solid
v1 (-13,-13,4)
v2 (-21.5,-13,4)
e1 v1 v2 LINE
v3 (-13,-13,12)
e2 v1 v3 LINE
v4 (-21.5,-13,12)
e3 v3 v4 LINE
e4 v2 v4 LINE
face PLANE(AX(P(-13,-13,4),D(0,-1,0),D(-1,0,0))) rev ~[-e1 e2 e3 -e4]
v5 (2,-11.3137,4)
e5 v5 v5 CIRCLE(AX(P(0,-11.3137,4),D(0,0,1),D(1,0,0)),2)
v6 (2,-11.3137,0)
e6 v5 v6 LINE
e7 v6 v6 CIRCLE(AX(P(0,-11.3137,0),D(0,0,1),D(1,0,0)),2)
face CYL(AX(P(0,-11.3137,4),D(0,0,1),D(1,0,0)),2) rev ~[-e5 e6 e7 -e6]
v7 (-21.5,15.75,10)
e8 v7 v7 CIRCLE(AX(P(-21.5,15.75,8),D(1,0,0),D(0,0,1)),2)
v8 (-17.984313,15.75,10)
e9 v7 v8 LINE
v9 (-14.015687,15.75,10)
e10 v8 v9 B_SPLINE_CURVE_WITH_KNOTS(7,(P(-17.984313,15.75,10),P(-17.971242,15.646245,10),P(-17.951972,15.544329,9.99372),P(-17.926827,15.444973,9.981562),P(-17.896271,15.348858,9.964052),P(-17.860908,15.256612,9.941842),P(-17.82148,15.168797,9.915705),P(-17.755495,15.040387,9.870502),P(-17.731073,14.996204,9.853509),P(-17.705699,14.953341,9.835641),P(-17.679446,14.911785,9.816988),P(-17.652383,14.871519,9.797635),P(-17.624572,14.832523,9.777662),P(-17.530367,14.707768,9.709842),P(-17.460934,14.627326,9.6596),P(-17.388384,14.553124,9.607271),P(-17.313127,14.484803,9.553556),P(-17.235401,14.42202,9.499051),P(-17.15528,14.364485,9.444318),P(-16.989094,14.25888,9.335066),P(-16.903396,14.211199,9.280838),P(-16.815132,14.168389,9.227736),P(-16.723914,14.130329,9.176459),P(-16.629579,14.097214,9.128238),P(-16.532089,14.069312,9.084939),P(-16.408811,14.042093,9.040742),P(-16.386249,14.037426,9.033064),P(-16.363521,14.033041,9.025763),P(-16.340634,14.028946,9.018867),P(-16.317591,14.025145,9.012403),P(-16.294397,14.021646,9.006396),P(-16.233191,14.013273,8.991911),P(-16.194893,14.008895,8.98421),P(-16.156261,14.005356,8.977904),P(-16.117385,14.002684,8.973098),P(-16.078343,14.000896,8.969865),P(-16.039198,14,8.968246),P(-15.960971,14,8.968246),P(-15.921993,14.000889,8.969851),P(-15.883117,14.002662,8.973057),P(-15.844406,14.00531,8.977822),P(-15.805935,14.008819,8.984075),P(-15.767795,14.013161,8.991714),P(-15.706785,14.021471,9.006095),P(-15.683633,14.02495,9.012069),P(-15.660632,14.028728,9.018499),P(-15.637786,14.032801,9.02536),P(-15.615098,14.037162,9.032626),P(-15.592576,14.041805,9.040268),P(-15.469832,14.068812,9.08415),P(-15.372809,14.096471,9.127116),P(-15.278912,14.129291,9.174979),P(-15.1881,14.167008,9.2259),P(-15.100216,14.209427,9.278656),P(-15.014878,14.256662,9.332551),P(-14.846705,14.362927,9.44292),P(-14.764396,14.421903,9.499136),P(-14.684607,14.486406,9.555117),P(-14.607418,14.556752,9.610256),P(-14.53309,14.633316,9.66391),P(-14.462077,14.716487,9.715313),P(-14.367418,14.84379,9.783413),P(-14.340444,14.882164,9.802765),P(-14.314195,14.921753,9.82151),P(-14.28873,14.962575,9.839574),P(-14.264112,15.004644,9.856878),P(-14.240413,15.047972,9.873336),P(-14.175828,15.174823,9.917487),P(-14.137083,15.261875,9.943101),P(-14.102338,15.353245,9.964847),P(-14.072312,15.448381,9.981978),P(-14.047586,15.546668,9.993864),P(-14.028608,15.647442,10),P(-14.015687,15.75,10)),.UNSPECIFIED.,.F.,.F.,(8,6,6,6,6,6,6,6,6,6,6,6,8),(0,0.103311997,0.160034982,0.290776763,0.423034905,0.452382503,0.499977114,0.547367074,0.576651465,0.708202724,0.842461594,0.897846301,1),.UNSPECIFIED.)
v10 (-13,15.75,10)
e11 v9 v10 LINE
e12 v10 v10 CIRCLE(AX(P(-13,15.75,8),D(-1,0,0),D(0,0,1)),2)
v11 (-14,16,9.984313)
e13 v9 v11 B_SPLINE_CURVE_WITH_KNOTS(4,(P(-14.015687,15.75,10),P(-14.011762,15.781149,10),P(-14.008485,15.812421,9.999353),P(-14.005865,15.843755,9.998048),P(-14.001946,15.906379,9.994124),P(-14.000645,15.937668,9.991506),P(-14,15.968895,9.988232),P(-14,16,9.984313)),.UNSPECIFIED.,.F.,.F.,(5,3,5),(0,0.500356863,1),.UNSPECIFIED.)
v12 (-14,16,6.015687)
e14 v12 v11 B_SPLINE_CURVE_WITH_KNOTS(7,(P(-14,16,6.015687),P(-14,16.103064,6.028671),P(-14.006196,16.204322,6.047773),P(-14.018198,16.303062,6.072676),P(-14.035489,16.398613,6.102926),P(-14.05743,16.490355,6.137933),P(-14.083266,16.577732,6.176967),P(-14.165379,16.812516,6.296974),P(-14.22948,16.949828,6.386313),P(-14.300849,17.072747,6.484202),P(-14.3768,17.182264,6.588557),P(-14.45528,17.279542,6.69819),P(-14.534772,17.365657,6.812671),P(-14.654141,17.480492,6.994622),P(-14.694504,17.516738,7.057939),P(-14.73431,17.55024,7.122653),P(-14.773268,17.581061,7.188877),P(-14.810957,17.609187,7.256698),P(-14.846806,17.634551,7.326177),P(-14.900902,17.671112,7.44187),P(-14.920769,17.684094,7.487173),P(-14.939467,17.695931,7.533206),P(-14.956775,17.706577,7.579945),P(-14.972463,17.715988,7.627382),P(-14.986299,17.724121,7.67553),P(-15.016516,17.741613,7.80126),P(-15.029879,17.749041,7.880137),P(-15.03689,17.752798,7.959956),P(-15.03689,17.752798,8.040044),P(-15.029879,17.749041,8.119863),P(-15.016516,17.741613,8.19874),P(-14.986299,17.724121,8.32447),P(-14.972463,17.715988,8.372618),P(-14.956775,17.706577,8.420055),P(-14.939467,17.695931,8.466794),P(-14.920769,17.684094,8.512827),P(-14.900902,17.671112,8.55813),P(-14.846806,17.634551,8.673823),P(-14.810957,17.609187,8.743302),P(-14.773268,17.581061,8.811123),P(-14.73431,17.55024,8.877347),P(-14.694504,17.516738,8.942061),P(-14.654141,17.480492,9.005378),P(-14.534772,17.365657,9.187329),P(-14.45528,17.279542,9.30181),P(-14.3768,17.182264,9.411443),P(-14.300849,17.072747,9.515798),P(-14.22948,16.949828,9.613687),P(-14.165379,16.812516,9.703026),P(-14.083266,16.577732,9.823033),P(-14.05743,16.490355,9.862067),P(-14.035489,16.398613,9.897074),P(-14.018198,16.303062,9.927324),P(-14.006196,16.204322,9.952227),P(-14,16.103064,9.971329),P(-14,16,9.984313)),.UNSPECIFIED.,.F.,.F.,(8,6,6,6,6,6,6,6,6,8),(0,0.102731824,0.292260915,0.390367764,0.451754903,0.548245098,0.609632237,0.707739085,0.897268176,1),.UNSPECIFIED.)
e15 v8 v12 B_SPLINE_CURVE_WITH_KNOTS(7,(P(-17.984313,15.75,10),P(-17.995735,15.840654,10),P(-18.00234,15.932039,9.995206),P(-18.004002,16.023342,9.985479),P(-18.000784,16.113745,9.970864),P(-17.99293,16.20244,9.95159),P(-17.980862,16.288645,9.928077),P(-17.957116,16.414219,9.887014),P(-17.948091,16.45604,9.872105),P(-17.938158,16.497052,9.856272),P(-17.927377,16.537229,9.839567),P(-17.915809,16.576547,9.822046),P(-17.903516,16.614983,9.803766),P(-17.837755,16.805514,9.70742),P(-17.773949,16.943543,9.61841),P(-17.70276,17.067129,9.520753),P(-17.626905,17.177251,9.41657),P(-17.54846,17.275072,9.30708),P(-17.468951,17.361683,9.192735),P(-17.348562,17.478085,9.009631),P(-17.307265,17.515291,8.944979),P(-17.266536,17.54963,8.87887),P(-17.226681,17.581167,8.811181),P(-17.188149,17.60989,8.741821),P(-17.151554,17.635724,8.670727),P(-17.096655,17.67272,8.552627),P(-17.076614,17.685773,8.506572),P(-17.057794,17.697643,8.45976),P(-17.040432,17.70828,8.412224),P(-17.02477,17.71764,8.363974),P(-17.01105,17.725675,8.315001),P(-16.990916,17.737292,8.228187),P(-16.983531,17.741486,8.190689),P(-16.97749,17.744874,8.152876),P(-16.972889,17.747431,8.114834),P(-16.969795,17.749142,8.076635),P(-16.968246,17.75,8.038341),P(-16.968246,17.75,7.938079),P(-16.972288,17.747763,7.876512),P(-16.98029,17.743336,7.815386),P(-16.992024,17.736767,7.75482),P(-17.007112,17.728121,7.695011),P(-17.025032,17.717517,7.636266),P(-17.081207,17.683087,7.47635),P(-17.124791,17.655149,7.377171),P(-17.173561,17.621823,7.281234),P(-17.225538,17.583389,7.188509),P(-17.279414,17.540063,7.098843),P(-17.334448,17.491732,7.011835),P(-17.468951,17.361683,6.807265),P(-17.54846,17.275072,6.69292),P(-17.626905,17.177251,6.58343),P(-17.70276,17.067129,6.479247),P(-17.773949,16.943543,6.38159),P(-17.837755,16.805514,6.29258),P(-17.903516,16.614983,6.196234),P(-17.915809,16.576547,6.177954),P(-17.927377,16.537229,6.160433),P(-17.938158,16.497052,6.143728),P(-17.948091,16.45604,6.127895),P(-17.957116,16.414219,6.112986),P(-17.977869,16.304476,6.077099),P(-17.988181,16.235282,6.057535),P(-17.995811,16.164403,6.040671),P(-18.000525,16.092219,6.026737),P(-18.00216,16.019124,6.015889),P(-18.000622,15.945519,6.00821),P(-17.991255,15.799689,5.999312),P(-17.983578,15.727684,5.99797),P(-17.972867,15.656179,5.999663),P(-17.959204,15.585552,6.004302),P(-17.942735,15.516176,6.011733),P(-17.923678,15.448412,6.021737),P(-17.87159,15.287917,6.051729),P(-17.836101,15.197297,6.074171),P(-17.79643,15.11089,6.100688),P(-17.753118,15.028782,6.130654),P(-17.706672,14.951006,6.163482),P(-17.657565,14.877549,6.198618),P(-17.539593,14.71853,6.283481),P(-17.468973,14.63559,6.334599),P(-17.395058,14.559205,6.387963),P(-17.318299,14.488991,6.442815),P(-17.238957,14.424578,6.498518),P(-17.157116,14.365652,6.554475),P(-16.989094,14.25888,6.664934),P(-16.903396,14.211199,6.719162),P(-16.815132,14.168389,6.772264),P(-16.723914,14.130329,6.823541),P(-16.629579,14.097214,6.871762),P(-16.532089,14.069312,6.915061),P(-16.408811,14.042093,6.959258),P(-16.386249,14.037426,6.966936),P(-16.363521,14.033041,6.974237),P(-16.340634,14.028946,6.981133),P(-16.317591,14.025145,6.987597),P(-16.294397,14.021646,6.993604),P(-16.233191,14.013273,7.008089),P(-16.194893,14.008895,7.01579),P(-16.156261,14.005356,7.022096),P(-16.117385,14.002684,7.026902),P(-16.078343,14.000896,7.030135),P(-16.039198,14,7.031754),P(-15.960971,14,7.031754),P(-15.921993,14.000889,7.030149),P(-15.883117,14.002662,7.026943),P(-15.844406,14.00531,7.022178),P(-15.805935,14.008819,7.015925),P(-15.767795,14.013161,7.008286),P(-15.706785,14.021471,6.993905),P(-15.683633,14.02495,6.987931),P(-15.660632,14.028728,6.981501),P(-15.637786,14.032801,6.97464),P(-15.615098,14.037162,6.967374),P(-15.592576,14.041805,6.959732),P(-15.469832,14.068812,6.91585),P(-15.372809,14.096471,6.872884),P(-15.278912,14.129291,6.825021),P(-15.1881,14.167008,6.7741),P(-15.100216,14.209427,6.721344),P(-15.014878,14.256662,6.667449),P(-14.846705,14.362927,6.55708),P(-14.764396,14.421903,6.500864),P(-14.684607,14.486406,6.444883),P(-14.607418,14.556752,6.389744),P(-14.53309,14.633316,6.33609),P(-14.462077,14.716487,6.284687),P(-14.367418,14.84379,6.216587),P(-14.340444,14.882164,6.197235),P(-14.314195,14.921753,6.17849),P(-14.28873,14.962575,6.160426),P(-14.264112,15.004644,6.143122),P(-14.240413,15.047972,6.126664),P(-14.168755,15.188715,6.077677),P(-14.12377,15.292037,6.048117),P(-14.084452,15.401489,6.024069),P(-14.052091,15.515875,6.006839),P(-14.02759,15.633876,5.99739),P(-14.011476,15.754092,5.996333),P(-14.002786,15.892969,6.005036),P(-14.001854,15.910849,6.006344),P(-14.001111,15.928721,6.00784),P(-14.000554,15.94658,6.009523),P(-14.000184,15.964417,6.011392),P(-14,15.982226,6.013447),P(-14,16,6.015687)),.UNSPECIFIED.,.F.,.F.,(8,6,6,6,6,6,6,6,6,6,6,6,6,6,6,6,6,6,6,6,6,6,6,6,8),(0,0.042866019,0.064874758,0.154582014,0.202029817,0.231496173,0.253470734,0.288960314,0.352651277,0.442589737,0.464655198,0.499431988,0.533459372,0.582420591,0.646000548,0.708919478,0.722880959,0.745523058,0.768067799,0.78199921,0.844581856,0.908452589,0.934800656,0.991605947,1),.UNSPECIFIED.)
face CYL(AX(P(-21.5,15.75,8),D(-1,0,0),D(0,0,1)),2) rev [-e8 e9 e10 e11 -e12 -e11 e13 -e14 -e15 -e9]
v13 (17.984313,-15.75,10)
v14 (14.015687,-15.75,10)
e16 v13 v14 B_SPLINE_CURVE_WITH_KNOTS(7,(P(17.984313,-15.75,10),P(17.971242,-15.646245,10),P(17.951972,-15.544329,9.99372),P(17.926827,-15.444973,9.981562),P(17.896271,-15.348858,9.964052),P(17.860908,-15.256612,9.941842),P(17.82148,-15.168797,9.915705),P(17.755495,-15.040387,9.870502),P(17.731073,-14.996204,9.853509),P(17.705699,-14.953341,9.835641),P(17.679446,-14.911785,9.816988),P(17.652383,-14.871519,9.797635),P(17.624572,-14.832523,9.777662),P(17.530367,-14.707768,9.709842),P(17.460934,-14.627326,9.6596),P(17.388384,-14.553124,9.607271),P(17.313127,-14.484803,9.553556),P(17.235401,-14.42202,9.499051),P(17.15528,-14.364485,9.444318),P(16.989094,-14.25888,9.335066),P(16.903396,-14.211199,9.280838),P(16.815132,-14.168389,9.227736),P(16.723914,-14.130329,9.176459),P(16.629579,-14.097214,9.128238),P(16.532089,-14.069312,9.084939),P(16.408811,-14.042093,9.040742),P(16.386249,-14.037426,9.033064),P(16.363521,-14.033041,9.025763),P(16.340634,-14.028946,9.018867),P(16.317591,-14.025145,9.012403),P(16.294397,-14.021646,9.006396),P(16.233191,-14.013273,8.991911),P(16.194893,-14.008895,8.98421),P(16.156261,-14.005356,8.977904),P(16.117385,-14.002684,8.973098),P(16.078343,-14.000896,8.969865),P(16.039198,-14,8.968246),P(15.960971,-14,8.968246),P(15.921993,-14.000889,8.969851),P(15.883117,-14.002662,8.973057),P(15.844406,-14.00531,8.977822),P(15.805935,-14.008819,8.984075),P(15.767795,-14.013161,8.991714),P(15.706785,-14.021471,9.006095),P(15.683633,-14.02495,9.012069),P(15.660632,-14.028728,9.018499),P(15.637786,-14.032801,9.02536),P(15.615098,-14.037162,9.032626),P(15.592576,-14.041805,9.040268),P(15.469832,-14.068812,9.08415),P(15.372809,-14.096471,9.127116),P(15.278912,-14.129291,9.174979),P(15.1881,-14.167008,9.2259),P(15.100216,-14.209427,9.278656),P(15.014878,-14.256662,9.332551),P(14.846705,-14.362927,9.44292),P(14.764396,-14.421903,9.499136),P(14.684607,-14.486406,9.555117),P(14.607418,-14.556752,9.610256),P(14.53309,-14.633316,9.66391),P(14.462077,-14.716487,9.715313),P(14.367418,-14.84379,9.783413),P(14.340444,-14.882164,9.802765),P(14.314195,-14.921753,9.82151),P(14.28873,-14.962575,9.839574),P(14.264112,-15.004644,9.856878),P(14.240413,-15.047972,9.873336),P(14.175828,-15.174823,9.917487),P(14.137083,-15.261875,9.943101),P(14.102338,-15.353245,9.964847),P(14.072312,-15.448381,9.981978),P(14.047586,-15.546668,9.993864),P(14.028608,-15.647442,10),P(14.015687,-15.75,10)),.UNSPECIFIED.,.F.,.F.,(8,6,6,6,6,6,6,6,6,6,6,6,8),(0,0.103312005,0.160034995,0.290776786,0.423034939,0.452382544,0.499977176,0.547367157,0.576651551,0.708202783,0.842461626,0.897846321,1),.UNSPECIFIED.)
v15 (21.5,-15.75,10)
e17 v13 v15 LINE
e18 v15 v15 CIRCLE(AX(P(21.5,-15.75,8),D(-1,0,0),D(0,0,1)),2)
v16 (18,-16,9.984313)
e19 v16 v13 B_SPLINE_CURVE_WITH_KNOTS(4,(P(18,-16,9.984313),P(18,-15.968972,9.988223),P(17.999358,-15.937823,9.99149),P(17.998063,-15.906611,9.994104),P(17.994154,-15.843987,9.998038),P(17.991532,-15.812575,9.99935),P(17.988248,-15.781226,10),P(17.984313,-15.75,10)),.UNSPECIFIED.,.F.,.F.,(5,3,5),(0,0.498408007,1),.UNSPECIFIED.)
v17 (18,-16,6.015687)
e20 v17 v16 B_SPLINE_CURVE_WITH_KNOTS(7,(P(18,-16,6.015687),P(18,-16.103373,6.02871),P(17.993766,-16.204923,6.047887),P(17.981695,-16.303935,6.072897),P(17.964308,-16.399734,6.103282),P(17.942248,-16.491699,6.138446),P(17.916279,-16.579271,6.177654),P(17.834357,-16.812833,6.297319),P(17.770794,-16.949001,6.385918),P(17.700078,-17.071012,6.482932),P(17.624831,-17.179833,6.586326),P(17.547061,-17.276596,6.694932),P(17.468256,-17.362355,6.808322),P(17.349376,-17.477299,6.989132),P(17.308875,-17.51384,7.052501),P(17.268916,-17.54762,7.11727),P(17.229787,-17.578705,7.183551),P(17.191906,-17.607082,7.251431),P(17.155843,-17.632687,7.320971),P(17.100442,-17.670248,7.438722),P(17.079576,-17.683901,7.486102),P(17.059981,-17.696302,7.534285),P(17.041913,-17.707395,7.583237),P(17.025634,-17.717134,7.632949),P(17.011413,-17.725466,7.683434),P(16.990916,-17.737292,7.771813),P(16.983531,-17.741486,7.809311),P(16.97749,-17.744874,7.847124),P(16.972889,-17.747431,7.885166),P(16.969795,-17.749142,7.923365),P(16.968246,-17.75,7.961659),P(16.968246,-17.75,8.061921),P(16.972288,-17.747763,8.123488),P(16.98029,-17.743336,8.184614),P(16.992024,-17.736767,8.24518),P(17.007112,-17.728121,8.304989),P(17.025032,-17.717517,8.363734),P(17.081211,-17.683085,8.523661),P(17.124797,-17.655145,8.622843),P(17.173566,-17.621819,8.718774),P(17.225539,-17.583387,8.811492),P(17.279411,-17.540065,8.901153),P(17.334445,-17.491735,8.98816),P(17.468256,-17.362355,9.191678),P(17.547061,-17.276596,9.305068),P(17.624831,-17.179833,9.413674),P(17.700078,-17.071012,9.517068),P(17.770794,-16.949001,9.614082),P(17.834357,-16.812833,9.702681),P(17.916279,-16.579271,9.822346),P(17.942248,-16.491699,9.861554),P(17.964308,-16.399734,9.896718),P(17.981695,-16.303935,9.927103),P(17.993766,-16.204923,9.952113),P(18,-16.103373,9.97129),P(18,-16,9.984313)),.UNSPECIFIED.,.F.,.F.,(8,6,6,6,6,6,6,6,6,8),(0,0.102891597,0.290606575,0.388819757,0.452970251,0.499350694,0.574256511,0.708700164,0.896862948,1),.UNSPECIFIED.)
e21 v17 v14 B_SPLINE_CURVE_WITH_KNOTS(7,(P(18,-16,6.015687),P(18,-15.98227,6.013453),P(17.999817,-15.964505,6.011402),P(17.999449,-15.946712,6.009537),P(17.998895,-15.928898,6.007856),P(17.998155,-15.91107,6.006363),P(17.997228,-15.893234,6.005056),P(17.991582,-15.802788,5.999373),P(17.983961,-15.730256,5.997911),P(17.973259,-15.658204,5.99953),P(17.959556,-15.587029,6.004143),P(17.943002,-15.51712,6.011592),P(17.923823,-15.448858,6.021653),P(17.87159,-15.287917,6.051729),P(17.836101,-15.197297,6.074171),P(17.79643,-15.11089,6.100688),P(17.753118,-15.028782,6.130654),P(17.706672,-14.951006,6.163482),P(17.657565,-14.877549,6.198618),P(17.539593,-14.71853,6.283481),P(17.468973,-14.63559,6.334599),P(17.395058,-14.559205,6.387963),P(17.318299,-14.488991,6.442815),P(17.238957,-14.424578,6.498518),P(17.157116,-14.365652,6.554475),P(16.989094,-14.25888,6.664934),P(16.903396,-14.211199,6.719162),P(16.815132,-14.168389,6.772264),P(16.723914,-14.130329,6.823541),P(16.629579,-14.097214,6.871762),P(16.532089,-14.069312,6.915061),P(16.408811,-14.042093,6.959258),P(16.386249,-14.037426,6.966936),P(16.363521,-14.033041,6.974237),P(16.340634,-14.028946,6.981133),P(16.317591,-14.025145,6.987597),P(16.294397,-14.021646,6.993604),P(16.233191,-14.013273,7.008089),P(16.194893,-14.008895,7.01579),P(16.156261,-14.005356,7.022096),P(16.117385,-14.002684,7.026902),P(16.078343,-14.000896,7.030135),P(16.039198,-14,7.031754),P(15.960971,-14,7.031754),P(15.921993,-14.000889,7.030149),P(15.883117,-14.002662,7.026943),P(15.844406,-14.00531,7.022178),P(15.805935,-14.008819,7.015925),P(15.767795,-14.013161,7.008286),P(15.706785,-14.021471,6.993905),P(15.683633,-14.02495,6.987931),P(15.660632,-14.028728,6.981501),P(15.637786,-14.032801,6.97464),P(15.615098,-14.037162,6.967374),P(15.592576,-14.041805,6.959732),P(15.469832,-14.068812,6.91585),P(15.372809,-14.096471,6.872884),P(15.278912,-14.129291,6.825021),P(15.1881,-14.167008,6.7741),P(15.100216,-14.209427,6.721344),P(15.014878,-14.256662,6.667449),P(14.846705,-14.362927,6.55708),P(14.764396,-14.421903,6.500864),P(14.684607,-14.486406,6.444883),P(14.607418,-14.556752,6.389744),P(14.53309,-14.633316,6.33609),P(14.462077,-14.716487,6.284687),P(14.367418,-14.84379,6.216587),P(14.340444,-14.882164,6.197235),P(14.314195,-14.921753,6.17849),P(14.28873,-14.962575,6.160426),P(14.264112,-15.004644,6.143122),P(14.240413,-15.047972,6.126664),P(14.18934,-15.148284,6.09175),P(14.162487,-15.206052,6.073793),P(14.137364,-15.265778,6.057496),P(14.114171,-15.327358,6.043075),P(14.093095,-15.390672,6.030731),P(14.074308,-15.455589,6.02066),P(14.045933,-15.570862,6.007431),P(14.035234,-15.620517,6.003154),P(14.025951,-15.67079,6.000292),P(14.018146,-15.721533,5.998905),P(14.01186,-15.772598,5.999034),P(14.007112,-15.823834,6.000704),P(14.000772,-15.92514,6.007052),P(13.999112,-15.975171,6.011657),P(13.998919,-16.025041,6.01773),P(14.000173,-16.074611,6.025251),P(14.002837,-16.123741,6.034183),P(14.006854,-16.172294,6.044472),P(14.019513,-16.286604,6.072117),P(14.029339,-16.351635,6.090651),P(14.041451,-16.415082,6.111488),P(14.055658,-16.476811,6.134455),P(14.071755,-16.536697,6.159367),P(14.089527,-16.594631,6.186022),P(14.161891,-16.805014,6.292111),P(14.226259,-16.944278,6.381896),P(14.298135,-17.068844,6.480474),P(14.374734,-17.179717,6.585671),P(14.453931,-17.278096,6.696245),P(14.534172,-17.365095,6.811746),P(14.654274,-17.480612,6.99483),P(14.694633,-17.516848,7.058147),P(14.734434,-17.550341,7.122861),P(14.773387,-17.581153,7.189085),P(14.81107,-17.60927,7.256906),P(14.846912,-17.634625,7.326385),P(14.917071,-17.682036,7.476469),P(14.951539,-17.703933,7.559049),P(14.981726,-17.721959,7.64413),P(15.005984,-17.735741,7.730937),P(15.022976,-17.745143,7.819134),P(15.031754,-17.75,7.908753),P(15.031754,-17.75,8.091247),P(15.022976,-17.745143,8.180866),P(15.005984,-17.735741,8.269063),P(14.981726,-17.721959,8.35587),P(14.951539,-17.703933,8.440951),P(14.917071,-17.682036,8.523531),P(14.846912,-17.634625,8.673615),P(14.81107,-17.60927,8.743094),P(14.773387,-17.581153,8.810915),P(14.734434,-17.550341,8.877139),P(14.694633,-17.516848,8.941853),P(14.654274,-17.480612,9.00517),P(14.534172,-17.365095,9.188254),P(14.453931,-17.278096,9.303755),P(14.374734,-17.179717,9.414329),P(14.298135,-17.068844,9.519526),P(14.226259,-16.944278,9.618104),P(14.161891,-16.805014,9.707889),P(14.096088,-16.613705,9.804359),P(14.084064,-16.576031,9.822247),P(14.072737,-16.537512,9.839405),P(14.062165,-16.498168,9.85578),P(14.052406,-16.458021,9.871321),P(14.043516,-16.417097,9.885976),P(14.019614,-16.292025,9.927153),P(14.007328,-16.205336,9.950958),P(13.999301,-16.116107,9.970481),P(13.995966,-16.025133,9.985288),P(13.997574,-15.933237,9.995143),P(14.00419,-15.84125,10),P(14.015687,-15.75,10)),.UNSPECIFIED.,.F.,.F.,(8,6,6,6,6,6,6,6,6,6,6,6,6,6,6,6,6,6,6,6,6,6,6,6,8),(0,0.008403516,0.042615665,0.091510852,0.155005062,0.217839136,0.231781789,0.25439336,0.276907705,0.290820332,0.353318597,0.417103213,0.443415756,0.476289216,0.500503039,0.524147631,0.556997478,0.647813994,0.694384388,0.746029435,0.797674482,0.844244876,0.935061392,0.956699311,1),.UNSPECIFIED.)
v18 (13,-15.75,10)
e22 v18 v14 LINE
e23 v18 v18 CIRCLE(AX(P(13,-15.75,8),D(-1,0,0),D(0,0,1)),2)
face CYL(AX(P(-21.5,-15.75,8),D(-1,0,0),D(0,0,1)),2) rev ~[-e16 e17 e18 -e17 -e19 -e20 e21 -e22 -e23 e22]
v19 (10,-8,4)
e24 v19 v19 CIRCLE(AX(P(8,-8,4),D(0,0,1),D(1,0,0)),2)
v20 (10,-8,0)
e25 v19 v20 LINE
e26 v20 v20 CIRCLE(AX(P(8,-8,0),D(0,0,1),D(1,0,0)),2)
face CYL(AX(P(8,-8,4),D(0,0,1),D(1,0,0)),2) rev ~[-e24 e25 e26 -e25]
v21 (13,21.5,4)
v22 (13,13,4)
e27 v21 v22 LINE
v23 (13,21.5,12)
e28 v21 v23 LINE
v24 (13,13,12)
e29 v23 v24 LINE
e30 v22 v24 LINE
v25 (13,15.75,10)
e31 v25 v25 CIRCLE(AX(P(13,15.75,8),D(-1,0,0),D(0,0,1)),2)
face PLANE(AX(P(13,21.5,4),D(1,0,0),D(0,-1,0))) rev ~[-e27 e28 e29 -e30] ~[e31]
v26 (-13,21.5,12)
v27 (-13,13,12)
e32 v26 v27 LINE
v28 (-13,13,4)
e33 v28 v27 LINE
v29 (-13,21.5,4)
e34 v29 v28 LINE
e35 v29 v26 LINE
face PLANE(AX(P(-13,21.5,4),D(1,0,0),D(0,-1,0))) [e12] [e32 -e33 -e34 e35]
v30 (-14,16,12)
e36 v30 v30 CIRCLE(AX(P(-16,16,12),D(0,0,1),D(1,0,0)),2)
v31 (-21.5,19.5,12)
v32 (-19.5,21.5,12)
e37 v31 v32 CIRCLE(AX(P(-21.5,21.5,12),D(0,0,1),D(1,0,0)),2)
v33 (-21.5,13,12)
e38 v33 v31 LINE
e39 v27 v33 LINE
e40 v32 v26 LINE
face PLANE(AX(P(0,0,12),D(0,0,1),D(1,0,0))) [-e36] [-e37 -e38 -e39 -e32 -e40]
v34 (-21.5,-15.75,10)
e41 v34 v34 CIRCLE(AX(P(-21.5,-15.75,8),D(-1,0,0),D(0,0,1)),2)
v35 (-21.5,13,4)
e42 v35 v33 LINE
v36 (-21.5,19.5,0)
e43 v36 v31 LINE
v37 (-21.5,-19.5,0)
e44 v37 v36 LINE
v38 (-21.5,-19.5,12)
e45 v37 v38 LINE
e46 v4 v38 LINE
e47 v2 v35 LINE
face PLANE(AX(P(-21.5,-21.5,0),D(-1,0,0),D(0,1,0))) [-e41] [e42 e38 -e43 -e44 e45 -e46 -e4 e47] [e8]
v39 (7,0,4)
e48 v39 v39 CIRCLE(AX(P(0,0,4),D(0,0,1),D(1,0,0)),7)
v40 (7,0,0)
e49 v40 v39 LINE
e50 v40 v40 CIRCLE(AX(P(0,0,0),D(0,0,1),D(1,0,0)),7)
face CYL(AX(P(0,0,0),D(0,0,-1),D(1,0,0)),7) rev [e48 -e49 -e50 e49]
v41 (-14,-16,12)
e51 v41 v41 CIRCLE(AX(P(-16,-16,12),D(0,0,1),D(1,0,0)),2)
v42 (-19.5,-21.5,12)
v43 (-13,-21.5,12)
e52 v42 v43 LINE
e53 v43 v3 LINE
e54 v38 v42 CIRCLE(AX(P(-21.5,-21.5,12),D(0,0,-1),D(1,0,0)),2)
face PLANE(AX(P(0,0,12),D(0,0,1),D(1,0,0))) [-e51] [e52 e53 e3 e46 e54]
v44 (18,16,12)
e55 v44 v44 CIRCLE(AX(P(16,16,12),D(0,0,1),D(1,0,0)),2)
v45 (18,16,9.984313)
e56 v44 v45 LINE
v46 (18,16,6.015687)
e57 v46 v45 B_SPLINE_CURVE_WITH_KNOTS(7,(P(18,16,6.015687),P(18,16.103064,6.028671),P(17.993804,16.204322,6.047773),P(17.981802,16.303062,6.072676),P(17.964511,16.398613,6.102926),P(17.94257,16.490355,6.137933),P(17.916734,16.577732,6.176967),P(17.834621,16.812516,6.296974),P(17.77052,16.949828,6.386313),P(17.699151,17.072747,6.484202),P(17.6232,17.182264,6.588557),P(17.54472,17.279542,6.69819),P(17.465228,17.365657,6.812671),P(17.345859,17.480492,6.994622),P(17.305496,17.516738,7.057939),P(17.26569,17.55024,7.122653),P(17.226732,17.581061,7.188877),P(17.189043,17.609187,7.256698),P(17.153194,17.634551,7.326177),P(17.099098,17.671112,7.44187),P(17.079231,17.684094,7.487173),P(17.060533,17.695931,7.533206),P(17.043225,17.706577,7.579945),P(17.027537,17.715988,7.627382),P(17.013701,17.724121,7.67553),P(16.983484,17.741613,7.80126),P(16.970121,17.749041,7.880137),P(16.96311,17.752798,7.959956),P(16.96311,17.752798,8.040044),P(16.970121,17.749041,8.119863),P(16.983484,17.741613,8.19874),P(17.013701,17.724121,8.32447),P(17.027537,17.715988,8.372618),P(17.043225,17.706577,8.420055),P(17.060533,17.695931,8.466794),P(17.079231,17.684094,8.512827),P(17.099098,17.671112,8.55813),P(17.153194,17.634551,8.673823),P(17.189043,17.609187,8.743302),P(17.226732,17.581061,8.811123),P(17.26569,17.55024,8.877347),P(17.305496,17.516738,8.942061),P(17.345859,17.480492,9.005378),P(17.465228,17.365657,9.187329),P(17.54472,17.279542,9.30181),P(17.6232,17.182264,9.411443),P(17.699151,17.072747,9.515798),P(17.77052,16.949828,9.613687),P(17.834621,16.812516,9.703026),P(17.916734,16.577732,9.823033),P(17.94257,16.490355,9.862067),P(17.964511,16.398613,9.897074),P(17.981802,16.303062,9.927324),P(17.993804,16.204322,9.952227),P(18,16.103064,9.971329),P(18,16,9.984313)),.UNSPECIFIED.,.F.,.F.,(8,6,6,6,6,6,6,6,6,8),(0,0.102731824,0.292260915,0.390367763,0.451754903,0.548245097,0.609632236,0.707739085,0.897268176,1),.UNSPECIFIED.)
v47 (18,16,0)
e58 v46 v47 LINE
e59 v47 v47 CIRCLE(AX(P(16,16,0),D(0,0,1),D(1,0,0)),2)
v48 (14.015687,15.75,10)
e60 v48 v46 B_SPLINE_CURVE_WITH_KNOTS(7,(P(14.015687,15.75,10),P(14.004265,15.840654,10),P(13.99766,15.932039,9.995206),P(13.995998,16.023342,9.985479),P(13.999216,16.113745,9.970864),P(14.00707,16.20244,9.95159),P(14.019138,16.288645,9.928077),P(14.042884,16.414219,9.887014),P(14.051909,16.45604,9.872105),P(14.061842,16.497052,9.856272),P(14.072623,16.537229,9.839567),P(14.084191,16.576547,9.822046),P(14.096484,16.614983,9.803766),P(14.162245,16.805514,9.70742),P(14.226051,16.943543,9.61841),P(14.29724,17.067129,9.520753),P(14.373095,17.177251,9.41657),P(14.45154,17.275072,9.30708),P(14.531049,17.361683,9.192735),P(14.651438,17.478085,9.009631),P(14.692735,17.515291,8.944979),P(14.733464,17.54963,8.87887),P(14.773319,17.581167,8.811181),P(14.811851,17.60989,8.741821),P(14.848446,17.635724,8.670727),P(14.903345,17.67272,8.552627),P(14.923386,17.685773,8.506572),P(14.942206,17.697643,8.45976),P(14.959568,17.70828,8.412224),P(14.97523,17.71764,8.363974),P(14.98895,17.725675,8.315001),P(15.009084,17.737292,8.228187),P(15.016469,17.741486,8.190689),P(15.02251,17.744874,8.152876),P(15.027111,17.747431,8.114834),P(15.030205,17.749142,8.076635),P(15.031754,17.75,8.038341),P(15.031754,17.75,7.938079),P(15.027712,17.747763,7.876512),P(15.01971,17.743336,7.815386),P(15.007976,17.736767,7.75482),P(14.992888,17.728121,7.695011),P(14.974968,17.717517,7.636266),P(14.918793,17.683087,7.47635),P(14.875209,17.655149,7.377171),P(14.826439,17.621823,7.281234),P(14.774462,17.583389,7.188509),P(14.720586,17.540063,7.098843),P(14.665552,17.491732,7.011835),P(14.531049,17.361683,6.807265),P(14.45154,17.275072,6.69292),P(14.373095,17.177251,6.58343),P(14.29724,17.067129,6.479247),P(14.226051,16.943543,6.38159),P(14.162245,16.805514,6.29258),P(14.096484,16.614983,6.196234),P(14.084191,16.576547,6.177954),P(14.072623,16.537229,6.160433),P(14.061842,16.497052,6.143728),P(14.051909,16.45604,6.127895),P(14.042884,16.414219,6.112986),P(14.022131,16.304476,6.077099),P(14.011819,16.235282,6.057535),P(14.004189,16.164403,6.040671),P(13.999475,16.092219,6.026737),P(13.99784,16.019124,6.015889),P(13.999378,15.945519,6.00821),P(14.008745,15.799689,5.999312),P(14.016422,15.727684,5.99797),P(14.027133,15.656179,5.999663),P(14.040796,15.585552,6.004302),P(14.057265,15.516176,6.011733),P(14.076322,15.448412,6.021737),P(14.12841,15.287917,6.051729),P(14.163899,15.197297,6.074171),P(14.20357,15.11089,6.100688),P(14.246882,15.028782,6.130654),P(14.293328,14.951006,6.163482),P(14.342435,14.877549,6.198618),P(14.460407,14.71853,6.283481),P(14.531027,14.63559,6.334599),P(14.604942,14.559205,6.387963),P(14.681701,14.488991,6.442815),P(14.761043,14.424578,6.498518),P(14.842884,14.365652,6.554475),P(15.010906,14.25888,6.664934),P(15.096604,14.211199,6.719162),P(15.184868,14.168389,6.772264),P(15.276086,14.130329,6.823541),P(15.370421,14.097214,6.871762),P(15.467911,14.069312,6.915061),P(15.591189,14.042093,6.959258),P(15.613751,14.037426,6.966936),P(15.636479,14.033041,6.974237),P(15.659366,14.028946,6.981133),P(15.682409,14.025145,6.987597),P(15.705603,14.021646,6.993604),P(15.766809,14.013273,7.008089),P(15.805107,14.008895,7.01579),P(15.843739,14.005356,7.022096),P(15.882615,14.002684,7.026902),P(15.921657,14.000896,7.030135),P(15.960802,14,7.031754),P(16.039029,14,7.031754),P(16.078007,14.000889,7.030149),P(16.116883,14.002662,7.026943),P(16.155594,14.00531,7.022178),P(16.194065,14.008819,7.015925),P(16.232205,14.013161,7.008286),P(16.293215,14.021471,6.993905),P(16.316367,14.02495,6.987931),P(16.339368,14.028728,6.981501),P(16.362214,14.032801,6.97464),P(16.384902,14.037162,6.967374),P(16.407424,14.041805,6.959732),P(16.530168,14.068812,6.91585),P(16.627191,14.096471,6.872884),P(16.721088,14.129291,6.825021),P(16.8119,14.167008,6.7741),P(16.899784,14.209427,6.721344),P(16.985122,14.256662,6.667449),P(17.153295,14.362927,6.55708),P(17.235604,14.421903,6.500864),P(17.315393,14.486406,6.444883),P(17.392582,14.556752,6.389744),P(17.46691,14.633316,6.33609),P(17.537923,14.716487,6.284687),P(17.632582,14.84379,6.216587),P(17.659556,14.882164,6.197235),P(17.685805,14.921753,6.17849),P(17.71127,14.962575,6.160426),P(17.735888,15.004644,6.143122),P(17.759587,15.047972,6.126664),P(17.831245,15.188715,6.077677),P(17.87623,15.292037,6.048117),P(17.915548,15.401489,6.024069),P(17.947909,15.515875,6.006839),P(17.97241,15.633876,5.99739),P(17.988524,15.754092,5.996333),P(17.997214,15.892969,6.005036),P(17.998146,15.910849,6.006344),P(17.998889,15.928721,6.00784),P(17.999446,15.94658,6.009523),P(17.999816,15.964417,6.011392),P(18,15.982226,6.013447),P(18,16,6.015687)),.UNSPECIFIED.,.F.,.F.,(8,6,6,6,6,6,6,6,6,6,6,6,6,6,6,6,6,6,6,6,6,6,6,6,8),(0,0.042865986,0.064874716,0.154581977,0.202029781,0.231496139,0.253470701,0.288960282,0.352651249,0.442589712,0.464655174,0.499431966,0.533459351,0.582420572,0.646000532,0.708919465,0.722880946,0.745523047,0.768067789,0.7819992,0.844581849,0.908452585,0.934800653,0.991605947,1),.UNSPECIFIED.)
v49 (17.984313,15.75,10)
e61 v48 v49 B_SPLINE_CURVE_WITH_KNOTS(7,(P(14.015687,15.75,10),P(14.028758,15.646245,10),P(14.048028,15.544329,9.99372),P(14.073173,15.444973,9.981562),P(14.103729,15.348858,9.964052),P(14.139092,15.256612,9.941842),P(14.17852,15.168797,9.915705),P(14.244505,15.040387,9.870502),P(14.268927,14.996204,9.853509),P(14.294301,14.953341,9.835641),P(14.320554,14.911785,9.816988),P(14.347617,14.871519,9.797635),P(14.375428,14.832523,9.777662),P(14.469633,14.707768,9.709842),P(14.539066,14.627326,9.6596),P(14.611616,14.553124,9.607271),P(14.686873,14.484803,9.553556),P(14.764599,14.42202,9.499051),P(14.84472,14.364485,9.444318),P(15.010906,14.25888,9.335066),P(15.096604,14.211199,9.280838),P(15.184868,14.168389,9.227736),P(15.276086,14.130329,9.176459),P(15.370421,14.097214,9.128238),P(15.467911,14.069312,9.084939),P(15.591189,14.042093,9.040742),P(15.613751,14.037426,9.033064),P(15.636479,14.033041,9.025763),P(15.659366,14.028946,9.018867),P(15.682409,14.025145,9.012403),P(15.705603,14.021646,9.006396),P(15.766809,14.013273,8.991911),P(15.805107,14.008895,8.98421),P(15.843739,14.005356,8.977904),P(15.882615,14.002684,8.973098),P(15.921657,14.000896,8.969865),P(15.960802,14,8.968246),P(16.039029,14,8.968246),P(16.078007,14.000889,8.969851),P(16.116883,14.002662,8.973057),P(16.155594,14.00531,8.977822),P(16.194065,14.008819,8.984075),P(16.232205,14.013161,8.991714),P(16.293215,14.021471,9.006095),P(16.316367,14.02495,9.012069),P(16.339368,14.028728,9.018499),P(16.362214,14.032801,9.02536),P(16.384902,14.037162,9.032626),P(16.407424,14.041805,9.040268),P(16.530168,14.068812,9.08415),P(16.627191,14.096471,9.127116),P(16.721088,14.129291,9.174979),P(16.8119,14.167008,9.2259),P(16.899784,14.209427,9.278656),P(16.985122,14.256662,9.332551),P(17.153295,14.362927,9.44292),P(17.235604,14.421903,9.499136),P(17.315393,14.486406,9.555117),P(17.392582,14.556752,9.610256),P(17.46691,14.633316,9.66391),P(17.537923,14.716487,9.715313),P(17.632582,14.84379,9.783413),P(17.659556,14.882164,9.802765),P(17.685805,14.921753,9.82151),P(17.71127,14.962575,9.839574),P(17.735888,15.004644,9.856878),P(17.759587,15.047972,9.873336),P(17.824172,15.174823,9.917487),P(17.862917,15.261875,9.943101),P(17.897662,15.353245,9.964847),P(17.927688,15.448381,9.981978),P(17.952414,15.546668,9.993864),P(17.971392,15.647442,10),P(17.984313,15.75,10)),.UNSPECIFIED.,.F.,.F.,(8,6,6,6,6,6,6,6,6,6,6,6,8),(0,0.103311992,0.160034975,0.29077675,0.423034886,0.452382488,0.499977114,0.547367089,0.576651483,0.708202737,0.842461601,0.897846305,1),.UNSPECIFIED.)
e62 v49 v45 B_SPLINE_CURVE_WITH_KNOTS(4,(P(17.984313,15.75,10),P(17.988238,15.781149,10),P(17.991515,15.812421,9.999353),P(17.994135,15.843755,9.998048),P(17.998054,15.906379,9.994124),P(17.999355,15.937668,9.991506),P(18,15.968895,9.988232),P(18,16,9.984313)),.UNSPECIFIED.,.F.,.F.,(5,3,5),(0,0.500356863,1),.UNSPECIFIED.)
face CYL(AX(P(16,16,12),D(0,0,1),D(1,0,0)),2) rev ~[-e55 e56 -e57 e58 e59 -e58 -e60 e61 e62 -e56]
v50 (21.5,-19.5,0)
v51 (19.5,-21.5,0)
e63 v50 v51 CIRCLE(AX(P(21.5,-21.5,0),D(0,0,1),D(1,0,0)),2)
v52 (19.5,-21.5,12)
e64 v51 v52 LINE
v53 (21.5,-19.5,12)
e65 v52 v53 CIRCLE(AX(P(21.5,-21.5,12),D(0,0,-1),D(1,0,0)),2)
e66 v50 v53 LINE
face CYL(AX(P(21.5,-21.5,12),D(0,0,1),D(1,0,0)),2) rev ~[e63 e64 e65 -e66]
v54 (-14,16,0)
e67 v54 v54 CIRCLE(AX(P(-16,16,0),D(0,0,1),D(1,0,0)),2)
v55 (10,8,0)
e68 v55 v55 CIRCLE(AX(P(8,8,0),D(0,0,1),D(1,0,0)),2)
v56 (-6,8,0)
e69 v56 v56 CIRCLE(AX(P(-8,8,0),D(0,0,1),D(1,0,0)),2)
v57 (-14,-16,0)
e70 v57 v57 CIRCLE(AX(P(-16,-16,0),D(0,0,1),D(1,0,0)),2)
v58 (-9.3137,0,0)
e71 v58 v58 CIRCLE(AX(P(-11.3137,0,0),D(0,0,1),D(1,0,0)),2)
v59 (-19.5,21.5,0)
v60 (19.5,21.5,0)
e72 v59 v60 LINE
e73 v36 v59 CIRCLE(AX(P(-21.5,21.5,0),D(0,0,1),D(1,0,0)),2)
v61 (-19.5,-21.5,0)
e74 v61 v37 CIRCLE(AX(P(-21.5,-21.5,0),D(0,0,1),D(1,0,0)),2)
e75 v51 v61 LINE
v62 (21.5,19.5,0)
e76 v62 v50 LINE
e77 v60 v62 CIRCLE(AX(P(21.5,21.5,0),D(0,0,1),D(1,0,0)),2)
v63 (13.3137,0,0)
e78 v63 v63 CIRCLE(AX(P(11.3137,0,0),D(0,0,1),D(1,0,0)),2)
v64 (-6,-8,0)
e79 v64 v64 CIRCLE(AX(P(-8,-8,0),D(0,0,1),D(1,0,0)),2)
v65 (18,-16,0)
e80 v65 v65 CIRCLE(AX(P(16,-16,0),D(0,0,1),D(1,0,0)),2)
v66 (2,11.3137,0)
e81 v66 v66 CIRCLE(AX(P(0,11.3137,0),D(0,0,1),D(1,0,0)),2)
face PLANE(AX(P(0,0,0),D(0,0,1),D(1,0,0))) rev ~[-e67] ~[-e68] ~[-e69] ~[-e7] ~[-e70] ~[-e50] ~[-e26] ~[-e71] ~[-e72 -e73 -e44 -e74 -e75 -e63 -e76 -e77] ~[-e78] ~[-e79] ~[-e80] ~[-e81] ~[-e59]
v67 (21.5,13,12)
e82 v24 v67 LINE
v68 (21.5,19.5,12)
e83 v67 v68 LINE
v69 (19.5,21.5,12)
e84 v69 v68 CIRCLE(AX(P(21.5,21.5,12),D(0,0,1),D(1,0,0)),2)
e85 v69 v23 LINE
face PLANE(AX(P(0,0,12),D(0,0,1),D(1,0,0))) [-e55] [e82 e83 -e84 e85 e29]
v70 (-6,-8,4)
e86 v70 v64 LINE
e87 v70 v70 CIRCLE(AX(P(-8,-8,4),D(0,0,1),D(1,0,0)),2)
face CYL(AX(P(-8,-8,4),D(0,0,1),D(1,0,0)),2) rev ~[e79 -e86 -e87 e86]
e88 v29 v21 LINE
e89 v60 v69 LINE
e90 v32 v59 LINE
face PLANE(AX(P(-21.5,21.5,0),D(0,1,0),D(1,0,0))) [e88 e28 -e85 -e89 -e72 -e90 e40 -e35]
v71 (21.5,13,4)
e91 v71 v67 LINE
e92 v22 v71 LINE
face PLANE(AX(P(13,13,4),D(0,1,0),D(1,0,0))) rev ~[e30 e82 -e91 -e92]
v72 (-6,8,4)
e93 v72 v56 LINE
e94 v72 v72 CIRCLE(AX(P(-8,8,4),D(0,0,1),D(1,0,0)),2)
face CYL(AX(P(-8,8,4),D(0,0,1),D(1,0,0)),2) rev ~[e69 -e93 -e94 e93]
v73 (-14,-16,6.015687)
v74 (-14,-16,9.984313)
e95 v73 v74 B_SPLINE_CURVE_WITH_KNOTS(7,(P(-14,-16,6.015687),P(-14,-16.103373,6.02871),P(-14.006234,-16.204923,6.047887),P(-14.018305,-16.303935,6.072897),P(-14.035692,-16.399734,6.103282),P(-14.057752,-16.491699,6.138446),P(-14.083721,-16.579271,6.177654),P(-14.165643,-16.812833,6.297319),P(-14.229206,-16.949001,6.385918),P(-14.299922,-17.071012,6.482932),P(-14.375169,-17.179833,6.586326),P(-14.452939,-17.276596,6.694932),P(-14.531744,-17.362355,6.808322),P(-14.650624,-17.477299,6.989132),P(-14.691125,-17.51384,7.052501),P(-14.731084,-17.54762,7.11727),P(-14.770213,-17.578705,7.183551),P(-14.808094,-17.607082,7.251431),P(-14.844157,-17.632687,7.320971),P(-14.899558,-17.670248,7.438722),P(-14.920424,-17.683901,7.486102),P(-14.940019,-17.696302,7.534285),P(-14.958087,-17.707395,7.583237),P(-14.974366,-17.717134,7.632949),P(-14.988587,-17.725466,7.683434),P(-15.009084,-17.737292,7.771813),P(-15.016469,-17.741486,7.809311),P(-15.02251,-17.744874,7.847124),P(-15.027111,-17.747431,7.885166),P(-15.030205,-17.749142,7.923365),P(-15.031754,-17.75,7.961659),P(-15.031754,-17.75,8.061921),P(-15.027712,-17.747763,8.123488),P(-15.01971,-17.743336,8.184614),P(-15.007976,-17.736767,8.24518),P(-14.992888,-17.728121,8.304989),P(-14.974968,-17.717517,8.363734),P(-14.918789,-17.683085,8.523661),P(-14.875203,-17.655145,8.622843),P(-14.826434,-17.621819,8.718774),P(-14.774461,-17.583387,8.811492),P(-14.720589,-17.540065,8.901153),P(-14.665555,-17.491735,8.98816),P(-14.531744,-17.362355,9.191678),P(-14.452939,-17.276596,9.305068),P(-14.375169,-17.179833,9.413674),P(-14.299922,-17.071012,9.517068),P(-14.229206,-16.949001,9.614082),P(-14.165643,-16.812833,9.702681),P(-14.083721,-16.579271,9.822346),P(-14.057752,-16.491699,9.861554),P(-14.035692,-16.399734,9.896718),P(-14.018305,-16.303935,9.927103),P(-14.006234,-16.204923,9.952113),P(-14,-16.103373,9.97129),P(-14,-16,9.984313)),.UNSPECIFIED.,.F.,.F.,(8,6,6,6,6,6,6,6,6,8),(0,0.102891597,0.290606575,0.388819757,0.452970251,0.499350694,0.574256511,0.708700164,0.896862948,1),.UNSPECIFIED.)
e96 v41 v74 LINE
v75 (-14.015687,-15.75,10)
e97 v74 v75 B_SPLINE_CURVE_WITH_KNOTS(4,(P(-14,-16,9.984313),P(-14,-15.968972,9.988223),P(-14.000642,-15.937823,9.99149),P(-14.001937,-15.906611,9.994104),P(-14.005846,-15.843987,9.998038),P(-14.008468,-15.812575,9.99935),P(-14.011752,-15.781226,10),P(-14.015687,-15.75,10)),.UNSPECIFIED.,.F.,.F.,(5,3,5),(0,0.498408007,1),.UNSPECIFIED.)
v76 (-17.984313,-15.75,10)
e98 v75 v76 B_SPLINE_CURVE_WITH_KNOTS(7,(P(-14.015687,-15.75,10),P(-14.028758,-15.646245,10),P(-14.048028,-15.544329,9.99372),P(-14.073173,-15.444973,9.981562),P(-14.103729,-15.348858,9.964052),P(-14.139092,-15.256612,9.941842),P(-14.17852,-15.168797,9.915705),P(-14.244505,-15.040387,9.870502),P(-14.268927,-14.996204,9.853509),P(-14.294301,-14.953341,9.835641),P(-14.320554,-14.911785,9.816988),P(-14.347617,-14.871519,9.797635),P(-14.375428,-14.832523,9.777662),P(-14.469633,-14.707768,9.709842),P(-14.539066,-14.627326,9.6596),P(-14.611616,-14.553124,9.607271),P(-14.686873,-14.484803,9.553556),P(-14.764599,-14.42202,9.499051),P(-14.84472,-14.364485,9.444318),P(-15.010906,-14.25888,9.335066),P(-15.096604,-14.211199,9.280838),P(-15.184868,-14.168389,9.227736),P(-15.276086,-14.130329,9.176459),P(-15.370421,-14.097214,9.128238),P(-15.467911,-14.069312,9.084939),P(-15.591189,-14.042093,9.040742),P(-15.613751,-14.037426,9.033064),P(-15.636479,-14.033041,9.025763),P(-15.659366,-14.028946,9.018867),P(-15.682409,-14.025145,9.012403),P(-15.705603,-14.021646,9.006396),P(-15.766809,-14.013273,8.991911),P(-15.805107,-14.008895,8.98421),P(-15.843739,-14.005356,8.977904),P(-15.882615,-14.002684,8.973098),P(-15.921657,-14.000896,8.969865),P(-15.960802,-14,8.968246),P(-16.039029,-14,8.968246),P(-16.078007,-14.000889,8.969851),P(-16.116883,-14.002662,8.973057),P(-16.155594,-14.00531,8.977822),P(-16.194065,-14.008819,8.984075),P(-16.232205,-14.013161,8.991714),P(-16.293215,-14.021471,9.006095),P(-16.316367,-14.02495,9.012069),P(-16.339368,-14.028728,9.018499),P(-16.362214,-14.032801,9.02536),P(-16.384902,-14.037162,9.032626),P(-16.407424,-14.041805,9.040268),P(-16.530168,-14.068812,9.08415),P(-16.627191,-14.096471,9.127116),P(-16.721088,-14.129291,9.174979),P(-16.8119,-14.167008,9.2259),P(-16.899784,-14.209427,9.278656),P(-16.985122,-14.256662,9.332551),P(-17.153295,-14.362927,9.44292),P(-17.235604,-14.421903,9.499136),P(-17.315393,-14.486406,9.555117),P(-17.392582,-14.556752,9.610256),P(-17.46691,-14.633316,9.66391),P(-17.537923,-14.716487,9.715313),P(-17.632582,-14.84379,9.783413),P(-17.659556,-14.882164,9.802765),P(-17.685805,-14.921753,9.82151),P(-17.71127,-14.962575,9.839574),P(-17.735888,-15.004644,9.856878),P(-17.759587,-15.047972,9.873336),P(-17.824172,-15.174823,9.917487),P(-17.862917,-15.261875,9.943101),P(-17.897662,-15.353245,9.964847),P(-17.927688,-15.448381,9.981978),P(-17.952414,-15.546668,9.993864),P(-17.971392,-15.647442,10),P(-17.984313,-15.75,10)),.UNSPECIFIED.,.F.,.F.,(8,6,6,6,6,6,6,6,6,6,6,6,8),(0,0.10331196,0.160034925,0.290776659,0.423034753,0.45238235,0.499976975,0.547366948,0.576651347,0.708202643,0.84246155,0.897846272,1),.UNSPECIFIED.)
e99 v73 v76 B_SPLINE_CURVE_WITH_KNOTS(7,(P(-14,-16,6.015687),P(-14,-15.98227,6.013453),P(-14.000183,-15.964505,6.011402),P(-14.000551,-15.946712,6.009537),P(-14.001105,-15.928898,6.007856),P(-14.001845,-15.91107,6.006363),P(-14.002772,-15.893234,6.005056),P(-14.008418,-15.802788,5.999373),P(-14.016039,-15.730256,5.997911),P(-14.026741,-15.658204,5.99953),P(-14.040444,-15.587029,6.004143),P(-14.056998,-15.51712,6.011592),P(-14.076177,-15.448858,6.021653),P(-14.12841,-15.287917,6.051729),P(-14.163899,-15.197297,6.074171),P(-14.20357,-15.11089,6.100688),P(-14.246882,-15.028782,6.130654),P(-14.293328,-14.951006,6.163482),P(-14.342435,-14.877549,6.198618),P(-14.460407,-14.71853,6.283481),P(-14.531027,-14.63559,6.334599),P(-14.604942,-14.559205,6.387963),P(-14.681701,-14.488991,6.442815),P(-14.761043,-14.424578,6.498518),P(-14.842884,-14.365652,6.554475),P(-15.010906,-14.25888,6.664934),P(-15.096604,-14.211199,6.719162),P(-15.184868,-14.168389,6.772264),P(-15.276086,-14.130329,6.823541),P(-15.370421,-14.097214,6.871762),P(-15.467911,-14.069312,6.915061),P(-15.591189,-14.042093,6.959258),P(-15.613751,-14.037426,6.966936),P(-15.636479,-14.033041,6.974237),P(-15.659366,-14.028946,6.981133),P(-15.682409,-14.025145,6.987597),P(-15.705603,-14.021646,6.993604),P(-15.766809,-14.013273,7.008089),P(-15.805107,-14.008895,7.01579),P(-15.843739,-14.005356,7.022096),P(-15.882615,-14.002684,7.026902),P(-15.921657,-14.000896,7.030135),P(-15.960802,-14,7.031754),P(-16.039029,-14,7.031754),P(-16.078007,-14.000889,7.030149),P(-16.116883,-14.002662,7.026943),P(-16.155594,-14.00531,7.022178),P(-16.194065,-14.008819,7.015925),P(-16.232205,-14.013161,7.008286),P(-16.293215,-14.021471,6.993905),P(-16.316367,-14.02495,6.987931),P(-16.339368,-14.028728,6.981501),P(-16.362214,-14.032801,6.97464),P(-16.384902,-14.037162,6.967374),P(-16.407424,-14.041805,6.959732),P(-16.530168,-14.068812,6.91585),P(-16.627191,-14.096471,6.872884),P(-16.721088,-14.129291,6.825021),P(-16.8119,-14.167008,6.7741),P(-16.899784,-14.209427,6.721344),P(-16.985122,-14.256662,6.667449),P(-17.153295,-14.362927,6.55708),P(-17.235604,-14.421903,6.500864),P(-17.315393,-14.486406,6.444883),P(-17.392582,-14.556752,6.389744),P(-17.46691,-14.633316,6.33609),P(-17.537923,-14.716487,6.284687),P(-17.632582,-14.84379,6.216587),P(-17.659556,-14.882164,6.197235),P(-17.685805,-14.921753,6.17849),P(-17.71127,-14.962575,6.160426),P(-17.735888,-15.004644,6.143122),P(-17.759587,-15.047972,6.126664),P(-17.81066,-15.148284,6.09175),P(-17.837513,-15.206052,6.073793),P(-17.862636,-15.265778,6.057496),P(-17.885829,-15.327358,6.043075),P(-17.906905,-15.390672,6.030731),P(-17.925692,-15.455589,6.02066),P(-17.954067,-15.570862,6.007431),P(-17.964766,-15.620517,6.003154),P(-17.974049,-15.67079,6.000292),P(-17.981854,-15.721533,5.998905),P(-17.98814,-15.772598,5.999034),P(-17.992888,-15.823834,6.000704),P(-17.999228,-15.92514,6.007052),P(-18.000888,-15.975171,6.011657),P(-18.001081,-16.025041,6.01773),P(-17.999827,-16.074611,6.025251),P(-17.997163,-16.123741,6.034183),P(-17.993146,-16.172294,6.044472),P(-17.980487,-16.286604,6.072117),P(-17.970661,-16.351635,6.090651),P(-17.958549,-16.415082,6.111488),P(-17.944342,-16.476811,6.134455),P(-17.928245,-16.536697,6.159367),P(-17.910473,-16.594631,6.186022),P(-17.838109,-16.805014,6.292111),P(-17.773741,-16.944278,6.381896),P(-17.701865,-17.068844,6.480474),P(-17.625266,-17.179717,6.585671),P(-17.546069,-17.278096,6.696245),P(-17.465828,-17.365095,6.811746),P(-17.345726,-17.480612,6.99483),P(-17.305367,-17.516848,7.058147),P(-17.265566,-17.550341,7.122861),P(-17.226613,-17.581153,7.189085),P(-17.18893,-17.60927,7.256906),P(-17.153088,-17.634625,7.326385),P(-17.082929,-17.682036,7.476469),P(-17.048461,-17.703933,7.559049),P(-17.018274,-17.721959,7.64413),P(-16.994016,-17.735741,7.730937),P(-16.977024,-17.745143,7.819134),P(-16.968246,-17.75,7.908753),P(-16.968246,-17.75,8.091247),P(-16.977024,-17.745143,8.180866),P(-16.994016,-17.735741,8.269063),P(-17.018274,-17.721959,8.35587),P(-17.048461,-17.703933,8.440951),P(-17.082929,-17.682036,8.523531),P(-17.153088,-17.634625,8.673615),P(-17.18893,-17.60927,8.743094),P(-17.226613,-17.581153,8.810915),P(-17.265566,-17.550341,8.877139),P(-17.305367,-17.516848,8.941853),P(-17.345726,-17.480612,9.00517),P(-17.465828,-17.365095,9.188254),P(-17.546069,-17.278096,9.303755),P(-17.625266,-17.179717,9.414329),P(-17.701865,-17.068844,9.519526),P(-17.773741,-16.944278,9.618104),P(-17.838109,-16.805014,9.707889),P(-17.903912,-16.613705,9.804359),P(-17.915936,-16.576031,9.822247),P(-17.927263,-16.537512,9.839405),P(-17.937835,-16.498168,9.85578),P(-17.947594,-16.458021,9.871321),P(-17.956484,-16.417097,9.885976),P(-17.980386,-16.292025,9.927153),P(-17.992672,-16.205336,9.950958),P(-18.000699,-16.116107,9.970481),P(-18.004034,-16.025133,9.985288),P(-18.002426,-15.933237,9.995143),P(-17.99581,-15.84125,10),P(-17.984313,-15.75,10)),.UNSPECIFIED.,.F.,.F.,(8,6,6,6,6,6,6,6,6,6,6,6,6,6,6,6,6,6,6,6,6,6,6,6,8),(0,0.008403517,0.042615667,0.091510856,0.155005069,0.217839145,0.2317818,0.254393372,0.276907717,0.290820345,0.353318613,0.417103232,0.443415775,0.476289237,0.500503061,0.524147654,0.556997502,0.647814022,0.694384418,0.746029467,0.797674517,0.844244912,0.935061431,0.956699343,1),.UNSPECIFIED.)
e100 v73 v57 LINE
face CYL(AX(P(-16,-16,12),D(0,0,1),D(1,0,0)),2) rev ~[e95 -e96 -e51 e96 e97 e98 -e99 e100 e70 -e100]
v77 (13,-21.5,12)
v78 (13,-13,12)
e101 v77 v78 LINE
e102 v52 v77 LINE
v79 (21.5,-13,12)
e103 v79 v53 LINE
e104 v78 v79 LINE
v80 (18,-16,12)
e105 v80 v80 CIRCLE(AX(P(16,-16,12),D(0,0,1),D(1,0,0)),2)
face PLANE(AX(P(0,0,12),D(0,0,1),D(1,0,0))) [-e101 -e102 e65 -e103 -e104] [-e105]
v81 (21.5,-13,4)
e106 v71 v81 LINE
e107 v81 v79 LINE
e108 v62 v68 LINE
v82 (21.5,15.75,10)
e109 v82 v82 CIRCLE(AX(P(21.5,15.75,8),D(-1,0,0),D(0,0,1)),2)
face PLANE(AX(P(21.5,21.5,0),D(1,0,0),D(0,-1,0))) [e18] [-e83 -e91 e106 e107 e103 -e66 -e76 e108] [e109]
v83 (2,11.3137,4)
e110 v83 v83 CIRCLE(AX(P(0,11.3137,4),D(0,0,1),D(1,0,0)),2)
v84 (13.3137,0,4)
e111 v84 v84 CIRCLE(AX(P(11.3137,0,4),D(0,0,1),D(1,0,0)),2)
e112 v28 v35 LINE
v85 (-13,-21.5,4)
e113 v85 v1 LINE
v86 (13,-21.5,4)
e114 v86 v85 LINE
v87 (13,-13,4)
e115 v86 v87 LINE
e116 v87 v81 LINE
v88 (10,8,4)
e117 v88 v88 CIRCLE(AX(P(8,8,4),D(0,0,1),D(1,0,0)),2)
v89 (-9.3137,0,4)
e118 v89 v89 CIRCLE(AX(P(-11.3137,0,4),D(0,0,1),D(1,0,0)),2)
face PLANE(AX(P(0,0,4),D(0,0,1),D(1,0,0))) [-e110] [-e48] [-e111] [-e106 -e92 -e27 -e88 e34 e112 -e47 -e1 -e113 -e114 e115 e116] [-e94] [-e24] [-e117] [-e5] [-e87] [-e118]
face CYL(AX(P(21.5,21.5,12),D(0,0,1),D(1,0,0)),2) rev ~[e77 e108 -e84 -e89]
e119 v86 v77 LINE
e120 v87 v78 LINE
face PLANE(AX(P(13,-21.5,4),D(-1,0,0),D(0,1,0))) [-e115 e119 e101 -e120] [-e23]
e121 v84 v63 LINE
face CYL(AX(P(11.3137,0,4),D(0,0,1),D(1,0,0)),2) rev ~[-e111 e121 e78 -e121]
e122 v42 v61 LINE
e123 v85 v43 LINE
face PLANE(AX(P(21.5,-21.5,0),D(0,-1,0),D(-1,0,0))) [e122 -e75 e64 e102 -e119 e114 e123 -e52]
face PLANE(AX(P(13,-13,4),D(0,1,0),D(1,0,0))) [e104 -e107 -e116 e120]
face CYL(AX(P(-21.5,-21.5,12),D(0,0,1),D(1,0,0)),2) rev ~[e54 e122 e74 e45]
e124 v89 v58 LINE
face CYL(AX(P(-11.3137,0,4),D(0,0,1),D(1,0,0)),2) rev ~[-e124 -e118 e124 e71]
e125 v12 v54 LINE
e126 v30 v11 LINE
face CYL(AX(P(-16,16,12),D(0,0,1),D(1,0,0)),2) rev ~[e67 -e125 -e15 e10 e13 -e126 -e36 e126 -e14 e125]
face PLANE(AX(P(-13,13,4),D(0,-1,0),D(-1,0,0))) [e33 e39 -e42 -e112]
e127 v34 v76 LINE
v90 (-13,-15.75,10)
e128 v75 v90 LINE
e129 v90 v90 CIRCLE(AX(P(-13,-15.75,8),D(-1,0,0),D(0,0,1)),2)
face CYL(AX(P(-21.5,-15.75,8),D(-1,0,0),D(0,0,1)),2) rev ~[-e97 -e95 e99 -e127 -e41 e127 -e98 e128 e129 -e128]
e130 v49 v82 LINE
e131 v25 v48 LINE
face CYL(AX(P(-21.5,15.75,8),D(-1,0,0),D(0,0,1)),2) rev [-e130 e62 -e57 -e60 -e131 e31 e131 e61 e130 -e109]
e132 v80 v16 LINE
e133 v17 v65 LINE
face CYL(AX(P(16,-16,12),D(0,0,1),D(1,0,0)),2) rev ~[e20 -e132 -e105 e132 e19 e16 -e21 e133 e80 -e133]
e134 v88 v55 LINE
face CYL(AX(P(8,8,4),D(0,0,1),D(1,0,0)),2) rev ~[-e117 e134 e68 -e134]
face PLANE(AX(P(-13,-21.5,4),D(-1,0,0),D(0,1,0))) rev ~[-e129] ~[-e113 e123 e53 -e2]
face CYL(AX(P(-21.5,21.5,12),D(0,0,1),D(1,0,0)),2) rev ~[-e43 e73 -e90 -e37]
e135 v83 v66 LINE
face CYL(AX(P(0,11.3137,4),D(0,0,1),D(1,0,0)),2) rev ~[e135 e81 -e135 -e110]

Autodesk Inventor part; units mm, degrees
ref_plane "YZ Plane" through (0, 0, 0) normal (1, 0, 0) x (0, 1, 0)
ref_plane "XZ Plane" through (0, 0, 0) normal (0, 1, 0) x (-1, 0, 0)
ref_plane "XY Plane" through (0, 0, 0) normal (0, 0, 1) x (1, 0, 0)
sketch "Sketch1" plane through (0, 0, 0) normal (0, 0, 1) x (1, 0, 0)
  circle A0 centre (0, 0) radius 7
  line L0 (-21.5, 21.5) -> (21.5, 21.5)
  line L1 (21.5, 21.5) -> (21.5, -21.5)
  line L2 (21.5, -21.5) -> (-21.5, -21.5)
  line L3 (-21.5, -21.5) -> (-21.5, 21.5)
  line L4 (0, 0) -> (0, 21.5) construction
  line L5 (0, 0) -> (21.5, 0) construction
  dimension "d0" = 14
  dimension "d1" = 43
extrude "Extrusion1" add sketch "Sketch1" along normal blind 4
sketch "Sketch2" plane through (0, 0, 4) normal (0, 0, 1) x (1, 0, 0)
  line L0 (21.5, 21.5) -> (-21.5, 21.5) construction
  line L1 (-21.5, 21.5) -> (-13, 21.5)
  line L2 (-13, 21.5) -> (-13, 13)
  line L3 (-13, 13) -> (-21.5, 13)
  line L4 (-21.5, 13) -> (-21.5, 21.5)
  line L5 (0, 21.5) -> (0, -21.5) construction
  line L6 (-21.5, -21.5) -> (21.5, -21.5) construction
  line L7 (-21.5, 21.5) -> (-21.5, -21.5) construction
  line L8 (-21.5, 0) -> (21.5, 0) construction
  line L9 (21.5, -21.5) -> (21.5, 21.5) construction
  line L10 (21.5, 21.5) -> (13, 21.5)
  line L11 (13, 21.5) -> (13, 13)
  line L12 (13, 13) -> (21.5, 13)
  line L13 (21.5, 13) -> (21.5, 21.5)
  line L14 (-21.5, -21.5) -> (-13, -21.5)
  line L15 (-13, -21.5) -> (-13, -13)
  line L16 (-13, -13) -> (-21.5, -13)
  line L17 (-21.5, -13) -> (-21.5, -21.5)
  line L18 (13, -13) -> (21.5, -13)
  line L19 (13, -21.5) -> (13, -13)
  line L20 (21.5, -21.5) -> (13, -21.5)
  line L21 (21.5, -13) -> (21.5, -21.5)
  point P0 (0, 0)
  dimension "d4" = 8.5
extrude "Extrusion2" add sketch "Sketch2" along normal blind 8
sketch "Sketch3" plane through (0, 0, 4) normal (0, 0, 1) x (1, 0, 0)
  line L0 (0, 11.3137) -> (0, -11.3137) construction
  circle A0 centre (0, 11.3137) radius 2
  circle A1 centre (0, -11.3137) radius 2
  line L1 (-11.3137, 0) -> (11.3137, 0) construction
  circle A2 centre (-11.3137, 0) radius 2
  circle A3 centre (11.3137, 0) radius 2
  line L2 (-8, 8) -> (8, 8) construction
  line L3 (8, 8) -> (8, -8) construction
  line L4 (8, -8) -> (-8, -8) construction
  line L5 (-8, -8) -> (-8, 8) construction
  circle A4 centre (-8, 8) radius 2
  circle A5 centre (8, 8) radius 2
  circle A6 centre (8, -8) radius 2
  circle A7 centre (-8, -8) radius 2
  circle A8 centre (0, 0) radius 11.3137 construction
  dimension "d8" = 4
  dimension "d9" = 16
  dimension "d10" = 16
extrude "Extrusion3" cut sketch "Sketch3" against normal blind 8
sketch "Sketch4" plane through (0, 0, 12) normal (0, 0, 1) x (1, 0, 0)
  line L0 (-13, -21.5) -> (-13, -13) projected
  line L1 (-13, -13) -> (-21.5, -13) projected
  line L2 (-21.5, -13) -> (-21.5, -21.5) projected
  line L3 (-21.5, -21.5) -> (-13, -21.5) projected
  line L4 (13, -13) -> (13, -21.5) projected
  line L5 (13, -21.5) -> (21.5, -21.5) projected
  line L6 (21.5, -21.5) -> (21.5, -13) projected
  line L7 (21.5, -13) -> (13, -13) projected
  line L8 (13, 21.5) -> (13, 13) construction
  line L9 (13, 13) -> (21.5, 13) construction
  line L10 (21.5, 13) -> (21.5, 21.5) construction
  line L11 (21.5, 21.5) -> (13, 21.5) construction
  line L12 (-21.5, 13) -> (-13, 13) construction
  line L13 (-13, 13) -> (-13, 21.5) construction
  line L14 (-13, 21.5) -> (-21.5, 21.5) construction
  line L15 (-21.5, 21.5) -> (-21.5, 13) construction
  circle A0 centre (-16, -16) radius 2
  circle A1 centre (16, -16) radius 2
  line L16 (-16, -16) -> (16, -16) construction
  line L17 (0, -30.1) -> (0, 30.1) construction
  circle A2 centre (0, -11.3137) radius 2 projected
  line L18 (-21.5, 21.5) -> (-21.5, -21.5) construction
  line L19 (-21.5, 0) -> (21.5, 0) construction
  circle A3 centre (-16, 16) radius 2
  circle A4 centre (16, 16) radius 2
  circle A5 centre (-21.5, 21.5) radius 2
  circle A6 centre (21.5, 21.5) radius 2
  line L20 (-21.5, -13) -> (-21.5, -21.5) projected
  circle A7 centre (-21.5, -21.5) radius 2
  circle A8 centre (21.5, -21.5) radius 2
  point P0 (0, 0)
  point P1 (0, -16)
  dimension "d13" = 32
  dimension "d14" = 3
  dimension "d15" = 3
extrude "Extrusion4" cut sketch "Sketch4" against normal through all contours A7 L2 L3 | L3 L2 A7 | A8 L6 L5 | L5 L6 A8 | A0 | A1 | A3 | A4 | A5 | A6
sketch "Sketch5" plane through (-21.5, -13, 4) normal (-1, 0, 0) x (0, 0, 1)
  circle A0 centre (4, 29.25) radius 2
  circle A1 centre (4, -2.75) radius 2
  line L0 (4, 29.25) -> (4, -2.75) construction
  line L1 (8, 31) -> (8, 27) projected
  line L2 (4, 29.25) -> (8, 29.25) construction
  line L3 (8, 32.5) -> (8, 26) projected
  line L4 (4, 29.25) -> (4, 26) construction
  line L5 (0, 26) -> (8, 26) projected
  point P0 (-4, 13)
  dimension "d18" = 4
  dimension "d19" = 32
extrude "Extrusion5" cut sketch "Sketch5" against normal through all contours A1
mirror "Mirror1" about plane through (0, 0, 0) normal (0, 1, 0) of "Extrusion5"
equation "\"d15\" = d14"
properties part number "ShoulderMotorMount" material "Aluminum 6061"
